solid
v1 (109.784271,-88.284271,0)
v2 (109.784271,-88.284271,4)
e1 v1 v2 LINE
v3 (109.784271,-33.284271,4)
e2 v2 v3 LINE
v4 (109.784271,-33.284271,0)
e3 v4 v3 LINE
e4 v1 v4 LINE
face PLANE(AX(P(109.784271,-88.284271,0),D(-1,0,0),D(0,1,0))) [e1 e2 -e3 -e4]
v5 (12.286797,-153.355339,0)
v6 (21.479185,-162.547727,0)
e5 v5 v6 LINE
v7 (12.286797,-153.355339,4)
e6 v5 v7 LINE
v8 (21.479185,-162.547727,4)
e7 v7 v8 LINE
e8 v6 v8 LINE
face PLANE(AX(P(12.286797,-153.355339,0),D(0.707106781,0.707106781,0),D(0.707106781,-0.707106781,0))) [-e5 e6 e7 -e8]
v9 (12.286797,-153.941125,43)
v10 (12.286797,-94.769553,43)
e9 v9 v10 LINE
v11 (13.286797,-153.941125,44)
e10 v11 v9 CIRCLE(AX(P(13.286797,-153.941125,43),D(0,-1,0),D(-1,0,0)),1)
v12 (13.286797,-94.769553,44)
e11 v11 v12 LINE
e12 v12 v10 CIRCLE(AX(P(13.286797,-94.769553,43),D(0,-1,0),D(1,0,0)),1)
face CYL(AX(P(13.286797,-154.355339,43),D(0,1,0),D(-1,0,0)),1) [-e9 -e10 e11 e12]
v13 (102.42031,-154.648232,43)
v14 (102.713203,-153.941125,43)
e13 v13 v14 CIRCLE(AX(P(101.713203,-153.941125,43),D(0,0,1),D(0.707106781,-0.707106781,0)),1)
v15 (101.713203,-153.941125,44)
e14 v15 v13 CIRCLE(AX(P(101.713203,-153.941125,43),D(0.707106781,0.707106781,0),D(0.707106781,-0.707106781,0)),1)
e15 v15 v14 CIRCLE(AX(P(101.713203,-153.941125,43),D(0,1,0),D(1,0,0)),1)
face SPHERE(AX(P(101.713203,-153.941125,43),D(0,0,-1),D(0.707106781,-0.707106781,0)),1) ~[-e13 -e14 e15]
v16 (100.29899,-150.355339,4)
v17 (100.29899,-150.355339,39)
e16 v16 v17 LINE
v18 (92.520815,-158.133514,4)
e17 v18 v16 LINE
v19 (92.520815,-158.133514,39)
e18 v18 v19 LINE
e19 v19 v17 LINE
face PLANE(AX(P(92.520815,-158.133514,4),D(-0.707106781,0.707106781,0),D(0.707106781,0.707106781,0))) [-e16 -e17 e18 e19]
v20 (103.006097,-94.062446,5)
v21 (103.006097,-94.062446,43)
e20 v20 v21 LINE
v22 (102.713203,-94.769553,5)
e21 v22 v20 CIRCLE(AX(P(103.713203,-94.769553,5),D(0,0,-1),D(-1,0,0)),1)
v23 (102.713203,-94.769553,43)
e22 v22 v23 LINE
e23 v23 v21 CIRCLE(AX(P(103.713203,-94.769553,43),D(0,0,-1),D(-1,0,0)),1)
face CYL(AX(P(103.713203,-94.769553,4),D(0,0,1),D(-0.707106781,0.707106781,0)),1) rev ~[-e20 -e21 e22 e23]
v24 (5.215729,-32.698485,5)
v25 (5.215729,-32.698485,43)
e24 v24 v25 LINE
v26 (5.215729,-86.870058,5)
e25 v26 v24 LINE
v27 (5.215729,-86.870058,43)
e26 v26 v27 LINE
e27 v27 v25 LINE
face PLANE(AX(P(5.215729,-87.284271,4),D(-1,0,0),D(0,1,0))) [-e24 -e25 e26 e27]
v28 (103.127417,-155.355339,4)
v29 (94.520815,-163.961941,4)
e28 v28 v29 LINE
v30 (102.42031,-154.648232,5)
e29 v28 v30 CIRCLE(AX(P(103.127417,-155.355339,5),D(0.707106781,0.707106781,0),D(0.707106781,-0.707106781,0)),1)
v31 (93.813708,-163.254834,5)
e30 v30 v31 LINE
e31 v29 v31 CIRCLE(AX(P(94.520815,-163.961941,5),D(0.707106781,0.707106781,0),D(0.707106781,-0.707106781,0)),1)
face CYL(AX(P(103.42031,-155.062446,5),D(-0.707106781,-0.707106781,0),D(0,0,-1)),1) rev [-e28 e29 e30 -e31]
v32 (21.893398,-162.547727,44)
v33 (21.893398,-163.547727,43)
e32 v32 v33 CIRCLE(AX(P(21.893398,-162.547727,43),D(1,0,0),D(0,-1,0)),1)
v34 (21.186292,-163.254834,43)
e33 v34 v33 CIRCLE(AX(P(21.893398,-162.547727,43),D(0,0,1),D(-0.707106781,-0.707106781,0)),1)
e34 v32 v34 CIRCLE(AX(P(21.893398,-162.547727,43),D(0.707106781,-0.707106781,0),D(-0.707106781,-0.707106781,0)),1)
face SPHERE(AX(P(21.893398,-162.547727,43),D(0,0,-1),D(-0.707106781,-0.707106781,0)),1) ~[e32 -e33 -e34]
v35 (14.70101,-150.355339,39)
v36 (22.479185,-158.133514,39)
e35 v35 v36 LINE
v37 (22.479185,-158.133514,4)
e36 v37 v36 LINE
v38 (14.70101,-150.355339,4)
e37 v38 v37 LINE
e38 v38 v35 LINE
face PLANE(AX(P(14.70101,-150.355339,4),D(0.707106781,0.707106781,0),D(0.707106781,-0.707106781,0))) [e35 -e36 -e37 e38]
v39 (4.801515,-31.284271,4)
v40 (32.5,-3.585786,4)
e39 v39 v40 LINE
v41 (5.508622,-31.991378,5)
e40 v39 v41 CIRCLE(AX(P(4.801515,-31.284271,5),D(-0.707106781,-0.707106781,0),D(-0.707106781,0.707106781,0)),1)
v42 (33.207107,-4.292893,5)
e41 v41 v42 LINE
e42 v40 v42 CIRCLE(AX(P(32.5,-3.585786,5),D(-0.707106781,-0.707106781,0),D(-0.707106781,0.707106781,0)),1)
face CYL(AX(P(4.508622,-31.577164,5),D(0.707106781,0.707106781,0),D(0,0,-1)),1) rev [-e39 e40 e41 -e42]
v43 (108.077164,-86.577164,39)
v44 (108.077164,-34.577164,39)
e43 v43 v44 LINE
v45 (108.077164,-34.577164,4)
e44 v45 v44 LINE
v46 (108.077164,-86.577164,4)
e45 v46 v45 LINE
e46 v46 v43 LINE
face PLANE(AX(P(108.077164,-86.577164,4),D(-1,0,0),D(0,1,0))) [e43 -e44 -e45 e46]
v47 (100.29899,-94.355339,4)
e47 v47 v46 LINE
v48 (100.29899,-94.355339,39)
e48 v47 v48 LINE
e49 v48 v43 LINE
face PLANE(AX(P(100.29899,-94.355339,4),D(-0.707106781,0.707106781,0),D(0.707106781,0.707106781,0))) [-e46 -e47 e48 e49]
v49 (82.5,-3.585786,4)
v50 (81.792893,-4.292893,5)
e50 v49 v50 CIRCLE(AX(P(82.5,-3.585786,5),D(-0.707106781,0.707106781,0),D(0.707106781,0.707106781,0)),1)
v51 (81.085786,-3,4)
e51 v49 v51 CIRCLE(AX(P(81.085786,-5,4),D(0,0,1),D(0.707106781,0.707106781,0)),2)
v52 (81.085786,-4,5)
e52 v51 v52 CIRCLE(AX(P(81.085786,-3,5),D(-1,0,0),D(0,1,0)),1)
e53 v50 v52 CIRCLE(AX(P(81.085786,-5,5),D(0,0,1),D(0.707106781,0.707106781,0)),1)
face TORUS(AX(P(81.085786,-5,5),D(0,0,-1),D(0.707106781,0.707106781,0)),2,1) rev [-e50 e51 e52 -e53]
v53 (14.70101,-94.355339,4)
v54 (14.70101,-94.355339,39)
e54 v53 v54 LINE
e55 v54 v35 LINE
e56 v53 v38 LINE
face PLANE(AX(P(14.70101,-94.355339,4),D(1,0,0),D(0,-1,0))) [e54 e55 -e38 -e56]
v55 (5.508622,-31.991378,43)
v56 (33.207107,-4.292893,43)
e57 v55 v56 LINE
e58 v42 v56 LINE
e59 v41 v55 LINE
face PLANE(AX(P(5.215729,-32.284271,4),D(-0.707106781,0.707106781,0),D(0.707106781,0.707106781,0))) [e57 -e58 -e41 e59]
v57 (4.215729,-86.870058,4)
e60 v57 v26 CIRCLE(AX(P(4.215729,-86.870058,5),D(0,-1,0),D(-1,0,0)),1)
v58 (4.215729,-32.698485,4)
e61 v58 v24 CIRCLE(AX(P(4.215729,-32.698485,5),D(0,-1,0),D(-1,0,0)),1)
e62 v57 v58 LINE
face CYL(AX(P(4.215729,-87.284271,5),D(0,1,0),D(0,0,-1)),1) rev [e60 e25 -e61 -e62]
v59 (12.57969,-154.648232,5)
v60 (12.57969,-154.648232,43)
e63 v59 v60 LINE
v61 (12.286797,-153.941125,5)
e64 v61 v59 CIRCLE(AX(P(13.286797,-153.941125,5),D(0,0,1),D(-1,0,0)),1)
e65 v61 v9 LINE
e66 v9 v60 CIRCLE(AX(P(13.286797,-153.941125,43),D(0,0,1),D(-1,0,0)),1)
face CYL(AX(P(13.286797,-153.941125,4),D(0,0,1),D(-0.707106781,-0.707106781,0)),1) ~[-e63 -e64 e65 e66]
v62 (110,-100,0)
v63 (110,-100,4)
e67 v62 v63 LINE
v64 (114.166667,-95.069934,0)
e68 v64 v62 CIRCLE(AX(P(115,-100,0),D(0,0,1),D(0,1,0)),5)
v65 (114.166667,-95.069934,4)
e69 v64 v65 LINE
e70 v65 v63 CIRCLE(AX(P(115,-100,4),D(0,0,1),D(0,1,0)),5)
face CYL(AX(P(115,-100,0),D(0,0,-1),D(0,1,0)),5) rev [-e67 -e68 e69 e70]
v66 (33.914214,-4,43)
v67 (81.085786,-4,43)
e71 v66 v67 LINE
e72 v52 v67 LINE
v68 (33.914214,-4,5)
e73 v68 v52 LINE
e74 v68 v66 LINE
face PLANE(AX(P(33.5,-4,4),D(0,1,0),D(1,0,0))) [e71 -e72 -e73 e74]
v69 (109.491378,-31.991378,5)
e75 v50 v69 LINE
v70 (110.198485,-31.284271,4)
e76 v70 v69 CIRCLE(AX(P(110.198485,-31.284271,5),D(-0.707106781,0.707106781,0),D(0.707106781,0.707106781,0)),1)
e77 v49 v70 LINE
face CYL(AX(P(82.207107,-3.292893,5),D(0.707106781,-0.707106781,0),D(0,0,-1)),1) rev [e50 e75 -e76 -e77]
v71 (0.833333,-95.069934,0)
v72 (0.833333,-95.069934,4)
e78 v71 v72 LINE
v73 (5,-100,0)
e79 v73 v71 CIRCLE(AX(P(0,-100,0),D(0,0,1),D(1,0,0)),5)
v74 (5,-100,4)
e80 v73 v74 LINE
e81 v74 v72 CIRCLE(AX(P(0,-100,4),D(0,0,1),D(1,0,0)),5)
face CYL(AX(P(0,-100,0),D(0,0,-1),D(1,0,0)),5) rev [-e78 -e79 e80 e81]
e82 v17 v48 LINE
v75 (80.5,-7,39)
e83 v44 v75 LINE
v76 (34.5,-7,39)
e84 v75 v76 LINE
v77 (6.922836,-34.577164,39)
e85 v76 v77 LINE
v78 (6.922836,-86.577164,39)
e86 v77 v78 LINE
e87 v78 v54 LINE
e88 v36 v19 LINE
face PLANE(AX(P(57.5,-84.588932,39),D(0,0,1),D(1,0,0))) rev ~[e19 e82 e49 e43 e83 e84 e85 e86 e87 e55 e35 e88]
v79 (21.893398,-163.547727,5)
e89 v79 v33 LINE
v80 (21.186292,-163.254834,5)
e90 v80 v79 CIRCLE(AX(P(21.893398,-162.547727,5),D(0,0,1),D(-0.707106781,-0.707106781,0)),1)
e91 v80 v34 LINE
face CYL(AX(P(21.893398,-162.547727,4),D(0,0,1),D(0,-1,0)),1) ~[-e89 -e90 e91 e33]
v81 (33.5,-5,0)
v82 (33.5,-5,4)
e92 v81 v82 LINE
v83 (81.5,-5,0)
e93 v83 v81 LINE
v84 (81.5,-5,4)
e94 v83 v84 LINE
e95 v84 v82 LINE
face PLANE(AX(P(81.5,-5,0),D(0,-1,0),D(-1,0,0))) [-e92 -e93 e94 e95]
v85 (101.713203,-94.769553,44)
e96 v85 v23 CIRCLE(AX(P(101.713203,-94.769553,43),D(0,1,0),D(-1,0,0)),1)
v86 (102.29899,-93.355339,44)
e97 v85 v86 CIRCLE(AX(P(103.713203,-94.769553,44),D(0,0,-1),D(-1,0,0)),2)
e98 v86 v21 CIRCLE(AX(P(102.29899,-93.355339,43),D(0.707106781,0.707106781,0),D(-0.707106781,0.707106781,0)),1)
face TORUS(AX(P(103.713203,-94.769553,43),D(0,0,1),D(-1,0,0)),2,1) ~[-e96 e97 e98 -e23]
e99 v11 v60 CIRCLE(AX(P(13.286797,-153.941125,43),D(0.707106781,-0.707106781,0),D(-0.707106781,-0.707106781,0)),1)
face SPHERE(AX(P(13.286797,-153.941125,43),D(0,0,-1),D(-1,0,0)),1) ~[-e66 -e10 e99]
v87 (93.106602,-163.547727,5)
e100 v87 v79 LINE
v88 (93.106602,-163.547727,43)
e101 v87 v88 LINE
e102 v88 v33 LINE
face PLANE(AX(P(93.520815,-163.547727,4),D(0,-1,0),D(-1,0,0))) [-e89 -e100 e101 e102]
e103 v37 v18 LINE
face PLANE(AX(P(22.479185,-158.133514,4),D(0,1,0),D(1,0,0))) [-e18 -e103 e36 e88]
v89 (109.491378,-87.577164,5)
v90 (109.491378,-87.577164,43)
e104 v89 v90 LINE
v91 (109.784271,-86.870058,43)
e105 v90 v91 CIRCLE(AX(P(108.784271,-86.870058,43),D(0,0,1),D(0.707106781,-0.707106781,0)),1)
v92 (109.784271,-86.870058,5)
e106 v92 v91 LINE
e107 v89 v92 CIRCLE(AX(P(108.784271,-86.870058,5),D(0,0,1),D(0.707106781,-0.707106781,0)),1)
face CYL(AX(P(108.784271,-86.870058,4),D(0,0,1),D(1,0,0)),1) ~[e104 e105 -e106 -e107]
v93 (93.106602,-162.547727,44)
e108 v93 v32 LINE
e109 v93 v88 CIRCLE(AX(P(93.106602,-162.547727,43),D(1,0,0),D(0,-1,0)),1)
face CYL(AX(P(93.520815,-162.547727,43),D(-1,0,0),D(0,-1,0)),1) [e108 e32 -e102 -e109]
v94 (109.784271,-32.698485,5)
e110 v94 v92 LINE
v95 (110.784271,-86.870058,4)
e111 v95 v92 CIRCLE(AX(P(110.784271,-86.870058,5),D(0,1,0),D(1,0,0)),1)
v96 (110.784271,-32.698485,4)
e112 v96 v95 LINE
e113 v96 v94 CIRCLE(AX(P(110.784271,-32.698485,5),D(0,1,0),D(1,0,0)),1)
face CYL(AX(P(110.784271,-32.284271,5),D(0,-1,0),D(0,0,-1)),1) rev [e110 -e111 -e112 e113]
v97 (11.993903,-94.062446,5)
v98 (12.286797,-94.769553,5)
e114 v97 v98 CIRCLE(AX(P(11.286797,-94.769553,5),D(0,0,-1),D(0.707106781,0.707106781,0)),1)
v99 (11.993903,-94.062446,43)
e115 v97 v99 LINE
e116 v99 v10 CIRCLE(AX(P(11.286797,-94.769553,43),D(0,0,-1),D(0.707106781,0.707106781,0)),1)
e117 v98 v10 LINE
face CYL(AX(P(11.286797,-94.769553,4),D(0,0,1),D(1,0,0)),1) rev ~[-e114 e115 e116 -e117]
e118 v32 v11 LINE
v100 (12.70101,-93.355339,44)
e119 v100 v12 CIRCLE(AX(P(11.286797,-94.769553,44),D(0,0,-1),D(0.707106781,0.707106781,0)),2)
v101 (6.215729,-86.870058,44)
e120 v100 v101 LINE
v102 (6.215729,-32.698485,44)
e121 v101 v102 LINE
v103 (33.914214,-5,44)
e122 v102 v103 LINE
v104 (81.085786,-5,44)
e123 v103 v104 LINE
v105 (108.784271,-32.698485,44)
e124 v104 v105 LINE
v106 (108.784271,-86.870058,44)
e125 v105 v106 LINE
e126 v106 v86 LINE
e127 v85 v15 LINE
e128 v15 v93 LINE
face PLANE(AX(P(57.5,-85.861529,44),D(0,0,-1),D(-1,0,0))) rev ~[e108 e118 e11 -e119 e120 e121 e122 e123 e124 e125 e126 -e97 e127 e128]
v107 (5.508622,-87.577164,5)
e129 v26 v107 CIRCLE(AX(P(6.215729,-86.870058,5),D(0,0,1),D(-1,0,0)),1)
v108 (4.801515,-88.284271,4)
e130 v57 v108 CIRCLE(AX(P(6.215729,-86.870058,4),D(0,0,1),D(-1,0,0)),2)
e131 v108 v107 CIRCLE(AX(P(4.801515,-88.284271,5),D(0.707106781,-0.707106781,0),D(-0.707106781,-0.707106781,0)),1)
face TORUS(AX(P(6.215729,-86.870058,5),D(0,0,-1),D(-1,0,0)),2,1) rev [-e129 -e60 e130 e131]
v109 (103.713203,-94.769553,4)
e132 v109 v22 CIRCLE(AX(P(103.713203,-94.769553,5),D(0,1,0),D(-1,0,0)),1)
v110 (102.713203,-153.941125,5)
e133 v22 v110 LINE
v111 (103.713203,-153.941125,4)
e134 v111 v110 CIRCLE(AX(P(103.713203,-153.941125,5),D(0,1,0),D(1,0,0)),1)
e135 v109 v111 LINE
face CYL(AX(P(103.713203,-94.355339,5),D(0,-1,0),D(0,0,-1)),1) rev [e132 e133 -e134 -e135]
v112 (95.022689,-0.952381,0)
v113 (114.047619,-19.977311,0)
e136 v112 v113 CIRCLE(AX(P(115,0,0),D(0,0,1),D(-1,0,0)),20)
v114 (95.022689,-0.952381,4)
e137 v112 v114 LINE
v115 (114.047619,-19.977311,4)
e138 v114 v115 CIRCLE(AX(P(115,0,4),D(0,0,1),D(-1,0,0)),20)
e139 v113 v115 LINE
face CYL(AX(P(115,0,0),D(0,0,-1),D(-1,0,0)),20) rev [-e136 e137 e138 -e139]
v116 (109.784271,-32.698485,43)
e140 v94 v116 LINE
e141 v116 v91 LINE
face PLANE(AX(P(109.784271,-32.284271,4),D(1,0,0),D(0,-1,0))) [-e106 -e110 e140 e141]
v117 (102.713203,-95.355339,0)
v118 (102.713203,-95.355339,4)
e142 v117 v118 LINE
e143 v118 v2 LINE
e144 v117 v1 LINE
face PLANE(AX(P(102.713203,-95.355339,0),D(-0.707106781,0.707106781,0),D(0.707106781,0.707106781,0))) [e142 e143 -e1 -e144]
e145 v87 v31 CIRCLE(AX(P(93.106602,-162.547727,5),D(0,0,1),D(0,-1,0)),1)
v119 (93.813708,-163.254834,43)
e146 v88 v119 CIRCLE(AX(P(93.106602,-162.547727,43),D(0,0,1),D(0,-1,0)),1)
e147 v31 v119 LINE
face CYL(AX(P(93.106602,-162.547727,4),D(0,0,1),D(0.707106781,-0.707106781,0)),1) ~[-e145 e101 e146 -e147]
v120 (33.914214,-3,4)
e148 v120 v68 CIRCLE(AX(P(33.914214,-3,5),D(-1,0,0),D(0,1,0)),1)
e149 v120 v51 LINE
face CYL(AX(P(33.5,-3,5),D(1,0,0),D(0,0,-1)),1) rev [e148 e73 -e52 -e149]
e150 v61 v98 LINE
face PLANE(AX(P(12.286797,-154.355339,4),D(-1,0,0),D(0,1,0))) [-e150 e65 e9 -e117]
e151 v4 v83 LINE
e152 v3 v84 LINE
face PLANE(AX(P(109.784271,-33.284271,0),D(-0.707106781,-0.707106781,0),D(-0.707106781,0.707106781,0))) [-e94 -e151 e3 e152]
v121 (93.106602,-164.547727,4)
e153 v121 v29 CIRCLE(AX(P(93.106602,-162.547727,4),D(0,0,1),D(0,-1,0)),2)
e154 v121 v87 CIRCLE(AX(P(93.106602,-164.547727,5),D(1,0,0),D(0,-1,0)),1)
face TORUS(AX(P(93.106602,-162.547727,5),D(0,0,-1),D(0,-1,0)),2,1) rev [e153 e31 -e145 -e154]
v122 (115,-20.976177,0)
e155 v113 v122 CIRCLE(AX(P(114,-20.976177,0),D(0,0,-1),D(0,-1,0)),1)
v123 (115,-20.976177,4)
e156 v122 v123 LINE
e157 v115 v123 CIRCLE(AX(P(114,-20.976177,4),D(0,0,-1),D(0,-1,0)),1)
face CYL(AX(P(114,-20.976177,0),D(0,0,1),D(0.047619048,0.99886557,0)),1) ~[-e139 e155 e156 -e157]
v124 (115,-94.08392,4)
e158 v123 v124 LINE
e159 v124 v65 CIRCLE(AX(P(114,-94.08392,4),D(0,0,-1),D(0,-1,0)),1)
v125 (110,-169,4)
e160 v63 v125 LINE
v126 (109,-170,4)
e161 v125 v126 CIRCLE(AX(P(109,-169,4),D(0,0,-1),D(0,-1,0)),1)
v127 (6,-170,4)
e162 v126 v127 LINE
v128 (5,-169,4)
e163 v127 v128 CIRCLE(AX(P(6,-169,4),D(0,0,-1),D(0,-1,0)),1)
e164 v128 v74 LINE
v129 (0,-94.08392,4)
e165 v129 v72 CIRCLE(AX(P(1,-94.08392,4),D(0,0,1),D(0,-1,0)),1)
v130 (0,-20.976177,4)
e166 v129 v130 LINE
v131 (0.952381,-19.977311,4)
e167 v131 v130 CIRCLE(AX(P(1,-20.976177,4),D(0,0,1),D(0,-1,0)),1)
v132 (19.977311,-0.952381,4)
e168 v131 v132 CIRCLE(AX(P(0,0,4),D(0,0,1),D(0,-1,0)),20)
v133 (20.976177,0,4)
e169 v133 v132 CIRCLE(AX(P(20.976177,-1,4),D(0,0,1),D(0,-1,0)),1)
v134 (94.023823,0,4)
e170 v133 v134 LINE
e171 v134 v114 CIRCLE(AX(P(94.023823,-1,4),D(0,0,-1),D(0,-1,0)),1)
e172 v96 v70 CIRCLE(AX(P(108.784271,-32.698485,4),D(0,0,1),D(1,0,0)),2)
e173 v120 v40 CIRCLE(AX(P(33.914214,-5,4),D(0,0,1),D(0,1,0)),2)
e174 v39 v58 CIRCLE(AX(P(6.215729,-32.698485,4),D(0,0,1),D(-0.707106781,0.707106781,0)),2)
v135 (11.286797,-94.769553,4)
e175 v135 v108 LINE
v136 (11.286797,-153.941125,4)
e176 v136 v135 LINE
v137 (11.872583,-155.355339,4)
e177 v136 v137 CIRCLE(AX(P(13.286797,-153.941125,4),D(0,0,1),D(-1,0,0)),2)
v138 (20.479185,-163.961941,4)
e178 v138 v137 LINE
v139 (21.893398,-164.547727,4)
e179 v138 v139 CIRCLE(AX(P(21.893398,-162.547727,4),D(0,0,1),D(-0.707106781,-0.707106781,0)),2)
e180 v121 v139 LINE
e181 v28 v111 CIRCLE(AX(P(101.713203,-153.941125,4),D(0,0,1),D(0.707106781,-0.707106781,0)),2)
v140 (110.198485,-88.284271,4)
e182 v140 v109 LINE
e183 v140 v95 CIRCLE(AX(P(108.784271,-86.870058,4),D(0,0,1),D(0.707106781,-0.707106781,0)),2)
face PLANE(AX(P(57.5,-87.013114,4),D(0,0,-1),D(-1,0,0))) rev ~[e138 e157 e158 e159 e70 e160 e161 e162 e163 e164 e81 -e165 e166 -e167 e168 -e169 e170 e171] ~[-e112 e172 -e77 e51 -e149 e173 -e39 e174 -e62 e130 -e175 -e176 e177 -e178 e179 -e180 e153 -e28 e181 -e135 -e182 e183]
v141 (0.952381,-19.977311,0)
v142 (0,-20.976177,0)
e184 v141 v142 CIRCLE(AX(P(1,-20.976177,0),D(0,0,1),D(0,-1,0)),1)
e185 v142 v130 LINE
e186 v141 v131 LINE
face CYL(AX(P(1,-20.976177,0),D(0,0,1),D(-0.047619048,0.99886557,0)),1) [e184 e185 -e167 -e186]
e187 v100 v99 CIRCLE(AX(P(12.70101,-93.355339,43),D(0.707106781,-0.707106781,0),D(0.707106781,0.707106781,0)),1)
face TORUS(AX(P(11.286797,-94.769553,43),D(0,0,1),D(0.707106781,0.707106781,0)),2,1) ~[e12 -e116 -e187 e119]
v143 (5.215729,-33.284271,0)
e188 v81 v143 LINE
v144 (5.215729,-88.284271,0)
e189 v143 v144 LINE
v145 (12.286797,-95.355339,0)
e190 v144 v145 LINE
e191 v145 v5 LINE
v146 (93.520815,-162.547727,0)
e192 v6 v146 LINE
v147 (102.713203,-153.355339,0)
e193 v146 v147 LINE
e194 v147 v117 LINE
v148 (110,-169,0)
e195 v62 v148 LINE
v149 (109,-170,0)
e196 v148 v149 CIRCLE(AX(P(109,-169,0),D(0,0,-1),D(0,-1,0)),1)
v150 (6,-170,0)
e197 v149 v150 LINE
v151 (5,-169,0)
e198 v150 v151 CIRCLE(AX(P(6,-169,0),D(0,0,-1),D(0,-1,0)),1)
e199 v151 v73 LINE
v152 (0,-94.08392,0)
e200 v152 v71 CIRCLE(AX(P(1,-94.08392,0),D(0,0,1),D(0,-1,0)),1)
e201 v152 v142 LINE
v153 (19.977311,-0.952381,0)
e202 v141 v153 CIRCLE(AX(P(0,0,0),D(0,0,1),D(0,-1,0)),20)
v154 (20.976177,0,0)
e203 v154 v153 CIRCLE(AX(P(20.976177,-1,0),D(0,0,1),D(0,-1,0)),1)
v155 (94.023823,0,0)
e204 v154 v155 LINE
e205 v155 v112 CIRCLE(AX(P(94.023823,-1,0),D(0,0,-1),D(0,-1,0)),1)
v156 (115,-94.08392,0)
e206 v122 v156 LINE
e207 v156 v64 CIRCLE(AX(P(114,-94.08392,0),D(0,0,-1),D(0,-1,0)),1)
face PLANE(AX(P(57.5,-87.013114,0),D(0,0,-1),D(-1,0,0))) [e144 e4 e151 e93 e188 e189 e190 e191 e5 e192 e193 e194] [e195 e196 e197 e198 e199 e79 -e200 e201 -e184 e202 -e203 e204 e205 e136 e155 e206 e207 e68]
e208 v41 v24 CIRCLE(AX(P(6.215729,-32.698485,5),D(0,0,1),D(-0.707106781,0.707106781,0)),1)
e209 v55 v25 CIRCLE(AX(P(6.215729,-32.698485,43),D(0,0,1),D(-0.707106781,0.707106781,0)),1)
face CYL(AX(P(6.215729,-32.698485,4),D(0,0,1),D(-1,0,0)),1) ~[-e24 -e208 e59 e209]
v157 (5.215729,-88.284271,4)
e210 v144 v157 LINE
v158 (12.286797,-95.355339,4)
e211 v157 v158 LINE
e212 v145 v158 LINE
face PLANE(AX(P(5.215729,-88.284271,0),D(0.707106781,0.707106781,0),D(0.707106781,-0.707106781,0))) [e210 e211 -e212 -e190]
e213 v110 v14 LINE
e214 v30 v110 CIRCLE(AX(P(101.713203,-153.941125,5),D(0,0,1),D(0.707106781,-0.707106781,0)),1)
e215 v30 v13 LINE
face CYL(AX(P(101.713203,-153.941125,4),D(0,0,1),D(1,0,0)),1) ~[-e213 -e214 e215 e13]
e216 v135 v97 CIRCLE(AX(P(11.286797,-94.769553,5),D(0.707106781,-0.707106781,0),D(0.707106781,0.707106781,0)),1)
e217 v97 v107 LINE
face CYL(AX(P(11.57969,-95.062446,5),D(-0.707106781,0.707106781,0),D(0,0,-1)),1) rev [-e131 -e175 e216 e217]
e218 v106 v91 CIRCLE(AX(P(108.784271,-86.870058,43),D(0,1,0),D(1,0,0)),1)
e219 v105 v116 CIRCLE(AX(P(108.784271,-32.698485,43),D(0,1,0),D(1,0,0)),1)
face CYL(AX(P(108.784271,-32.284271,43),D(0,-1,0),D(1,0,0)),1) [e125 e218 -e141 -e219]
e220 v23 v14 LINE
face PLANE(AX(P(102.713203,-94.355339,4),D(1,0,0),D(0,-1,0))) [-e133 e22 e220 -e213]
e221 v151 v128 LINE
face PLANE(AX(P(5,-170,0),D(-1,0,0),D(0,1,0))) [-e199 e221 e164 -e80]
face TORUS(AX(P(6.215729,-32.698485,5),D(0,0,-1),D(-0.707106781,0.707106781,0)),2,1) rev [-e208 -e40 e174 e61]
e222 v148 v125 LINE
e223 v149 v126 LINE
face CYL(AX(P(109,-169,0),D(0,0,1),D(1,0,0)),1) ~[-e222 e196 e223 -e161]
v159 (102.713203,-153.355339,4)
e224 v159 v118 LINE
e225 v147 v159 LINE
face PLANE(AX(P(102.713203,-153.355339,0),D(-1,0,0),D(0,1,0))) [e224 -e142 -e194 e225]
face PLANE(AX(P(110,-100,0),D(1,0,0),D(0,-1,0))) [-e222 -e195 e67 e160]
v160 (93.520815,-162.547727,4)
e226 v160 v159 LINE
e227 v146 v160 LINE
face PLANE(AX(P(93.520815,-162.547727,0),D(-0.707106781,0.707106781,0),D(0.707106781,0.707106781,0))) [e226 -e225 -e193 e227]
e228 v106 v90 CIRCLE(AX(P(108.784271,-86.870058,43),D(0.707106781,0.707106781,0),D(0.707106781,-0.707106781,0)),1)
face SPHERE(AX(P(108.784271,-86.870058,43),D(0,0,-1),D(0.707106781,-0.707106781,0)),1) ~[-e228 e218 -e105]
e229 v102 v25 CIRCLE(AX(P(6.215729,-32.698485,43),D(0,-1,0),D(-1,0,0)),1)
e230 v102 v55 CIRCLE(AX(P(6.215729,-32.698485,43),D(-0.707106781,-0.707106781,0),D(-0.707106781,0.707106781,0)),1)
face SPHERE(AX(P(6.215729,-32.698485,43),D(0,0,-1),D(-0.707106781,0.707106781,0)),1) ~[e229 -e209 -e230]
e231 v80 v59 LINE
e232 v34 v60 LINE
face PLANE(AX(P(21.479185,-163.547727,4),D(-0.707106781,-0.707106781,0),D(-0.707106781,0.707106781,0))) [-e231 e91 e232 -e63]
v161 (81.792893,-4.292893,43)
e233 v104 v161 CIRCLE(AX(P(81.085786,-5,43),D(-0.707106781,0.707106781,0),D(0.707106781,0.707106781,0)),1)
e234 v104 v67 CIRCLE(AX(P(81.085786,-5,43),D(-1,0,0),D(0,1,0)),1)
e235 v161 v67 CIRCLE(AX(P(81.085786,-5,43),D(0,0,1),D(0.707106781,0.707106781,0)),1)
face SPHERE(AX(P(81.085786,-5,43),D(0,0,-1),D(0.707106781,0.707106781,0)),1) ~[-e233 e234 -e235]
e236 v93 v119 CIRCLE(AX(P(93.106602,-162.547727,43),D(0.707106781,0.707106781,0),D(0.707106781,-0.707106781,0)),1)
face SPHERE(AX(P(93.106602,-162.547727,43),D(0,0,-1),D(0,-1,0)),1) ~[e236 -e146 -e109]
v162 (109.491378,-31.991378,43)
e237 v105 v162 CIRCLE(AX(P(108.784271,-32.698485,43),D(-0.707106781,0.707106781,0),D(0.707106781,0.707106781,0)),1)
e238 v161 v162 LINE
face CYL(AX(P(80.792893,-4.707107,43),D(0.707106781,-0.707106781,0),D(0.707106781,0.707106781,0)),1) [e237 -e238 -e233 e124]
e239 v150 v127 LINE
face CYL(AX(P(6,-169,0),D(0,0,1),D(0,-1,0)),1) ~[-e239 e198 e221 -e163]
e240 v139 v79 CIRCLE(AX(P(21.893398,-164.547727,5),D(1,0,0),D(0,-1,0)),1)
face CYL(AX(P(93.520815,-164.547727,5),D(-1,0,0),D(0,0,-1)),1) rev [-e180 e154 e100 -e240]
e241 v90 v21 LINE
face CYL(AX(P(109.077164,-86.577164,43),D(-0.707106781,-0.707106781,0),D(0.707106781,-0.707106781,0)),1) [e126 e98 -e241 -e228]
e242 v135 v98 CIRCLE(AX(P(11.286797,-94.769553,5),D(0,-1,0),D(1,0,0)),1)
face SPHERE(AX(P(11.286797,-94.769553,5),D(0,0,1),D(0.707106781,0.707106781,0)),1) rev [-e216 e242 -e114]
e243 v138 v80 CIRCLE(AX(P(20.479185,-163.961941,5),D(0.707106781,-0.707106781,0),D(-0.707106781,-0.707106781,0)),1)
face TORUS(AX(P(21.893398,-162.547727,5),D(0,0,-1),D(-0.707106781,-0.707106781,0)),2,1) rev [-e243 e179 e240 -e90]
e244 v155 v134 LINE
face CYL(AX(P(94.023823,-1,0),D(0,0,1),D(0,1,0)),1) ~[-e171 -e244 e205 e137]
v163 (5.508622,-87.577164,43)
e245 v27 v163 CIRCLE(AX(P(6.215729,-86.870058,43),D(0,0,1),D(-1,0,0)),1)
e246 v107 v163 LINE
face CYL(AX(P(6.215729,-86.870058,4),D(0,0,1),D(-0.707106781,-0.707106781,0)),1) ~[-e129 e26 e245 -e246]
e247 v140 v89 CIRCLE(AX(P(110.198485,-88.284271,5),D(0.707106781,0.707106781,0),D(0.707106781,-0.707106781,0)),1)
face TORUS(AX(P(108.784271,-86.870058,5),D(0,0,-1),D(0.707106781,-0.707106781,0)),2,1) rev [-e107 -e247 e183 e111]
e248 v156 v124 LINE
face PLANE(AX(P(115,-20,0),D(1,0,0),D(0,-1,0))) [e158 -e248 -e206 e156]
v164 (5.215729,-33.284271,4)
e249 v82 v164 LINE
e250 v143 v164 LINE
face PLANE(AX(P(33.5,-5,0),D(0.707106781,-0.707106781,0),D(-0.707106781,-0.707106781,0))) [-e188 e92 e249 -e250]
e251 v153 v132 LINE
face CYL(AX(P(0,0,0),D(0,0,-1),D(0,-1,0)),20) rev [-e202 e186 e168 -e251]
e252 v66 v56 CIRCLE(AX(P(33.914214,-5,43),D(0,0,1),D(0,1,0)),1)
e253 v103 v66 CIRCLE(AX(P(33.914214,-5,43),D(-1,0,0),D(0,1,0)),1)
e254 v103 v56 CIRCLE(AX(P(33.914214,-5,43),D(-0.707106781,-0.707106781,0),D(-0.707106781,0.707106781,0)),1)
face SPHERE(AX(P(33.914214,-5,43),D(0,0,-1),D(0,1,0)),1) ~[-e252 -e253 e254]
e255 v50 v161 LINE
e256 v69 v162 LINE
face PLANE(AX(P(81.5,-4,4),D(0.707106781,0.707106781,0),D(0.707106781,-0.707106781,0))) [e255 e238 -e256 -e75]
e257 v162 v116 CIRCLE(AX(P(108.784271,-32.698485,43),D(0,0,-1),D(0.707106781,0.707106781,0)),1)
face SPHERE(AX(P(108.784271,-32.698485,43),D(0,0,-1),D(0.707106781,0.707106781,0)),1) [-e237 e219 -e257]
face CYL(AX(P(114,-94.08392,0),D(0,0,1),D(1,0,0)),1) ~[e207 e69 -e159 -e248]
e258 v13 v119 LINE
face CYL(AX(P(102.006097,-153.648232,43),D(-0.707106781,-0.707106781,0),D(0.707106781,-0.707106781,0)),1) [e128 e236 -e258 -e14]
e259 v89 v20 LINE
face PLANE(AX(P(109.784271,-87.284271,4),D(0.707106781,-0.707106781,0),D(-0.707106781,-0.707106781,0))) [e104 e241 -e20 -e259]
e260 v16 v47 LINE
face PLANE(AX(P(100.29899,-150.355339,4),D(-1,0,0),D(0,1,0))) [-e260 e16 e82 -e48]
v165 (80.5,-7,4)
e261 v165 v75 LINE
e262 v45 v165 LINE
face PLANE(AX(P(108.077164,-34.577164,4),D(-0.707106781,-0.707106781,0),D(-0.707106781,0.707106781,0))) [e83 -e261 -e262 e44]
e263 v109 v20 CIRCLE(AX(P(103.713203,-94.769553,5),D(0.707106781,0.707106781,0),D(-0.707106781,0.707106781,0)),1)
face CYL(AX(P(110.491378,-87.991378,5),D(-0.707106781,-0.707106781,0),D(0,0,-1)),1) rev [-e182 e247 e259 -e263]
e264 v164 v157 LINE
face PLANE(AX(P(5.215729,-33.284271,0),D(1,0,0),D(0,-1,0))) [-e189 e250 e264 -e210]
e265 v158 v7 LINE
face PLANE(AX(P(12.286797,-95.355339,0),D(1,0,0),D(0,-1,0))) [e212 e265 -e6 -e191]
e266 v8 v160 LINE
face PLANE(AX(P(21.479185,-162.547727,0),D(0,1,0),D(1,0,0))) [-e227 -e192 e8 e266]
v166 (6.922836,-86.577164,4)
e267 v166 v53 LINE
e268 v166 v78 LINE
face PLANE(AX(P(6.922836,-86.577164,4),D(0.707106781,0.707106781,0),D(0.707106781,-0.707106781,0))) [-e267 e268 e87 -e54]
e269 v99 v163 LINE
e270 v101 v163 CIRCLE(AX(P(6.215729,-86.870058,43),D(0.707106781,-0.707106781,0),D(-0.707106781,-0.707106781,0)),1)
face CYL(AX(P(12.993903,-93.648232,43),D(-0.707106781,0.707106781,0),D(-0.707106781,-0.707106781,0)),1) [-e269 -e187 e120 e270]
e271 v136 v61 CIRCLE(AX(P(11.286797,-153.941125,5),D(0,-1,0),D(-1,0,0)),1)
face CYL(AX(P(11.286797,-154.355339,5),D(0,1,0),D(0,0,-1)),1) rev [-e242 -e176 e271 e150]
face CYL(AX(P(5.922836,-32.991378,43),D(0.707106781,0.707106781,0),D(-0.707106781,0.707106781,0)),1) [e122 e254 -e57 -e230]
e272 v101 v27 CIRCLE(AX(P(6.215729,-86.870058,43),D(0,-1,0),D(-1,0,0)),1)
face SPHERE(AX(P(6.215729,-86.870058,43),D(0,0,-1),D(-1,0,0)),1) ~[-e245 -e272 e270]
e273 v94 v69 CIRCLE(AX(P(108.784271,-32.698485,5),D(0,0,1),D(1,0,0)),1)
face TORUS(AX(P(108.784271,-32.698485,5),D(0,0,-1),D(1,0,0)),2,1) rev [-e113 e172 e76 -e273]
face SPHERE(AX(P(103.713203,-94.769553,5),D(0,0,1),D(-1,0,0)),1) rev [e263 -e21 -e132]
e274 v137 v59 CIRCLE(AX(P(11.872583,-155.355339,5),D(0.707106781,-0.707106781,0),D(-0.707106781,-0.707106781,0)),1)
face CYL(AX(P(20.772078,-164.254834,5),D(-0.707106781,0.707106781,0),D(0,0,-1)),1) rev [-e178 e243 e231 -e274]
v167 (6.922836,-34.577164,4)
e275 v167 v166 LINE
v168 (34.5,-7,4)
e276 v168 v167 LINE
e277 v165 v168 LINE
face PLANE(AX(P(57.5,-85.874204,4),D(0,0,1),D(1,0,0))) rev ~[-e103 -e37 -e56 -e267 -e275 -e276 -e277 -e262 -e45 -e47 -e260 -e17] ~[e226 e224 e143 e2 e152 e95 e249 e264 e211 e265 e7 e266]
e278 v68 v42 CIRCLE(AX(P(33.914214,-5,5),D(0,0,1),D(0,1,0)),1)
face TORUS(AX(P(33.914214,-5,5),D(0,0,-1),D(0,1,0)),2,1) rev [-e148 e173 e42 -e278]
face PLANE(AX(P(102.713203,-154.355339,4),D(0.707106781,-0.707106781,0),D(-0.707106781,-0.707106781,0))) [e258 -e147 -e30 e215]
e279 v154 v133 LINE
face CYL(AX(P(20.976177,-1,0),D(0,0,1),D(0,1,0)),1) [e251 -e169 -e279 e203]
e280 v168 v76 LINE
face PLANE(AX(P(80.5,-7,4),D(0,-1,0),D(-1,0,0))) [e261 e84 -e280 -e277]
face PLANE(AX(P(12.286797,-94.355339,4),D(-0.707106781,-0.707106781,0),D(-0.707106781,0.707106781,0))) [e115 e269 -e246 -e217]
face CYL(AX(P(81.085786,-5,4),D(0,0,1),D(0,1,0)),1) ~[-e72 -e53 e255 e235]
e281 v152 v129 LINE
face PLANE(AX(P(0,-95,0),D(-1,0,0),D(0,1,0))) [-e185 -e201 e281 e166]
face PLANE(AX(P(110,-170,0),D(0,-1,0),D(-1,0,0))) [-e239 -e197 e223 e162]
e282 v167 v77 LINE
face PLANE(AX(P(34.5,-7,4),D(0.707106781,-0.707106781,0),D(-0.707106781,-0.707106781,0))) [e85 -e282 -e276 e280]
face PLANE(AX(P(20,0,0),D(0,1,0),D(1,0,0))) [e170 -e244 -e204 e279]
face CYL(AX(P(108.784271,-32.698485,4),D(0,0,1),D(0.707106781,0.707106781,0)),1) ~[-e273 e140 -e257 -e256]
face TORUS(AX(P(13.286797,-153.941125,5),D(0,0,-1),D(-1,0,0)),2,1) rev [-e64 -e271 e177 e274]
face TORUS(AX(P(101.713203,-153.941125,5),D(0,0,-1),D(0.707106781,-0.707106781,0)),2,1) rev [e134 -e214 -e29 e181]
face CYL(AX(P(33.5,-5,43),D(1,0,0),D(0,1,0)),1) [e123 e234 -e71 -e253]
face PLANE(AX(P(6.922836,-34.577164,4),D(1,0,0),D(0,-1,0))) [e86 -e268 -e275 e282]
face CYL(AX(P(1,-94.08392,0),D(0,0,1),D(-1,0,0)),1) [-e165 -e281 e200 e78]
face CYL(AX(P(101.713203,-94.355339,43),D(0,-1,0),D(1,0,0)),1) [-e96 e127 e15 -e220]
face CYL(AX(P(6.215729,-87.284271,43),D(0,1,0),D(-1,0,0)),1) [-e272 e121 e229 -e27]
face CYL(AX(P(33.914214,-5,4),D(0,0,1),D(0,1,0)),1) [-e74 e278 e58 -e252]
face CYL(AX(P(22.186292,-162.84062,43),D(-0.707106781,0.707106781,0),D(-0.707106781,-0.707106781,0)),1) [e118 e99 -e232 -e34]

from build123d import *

# Parameters (mm, degrees)
Y_KSEKLIK_EKSTR_ZYON5_DEPTH = 4
Y_KSEKLIK_EKSTR_ZYON6_DEPTH = 40
RADYUS2_R                   = 1
KES_EKSTR_ZYON1_DEPTH       = 4
KES_EKSTR_ZYON2_DEPTH       = 35


with BuildPart() as part:
    # Çizim1 → Yükseklik-Ekstrüzyon5 (new body)
    with BuildSketch(Plane.XY):
        with BuildLine():
            Line((20, 0), (95, 0))
            ThreePointArc((95, 0), (100.857864376, -14.142135624), (115, -20))
            Line((115, -20), (115, -95))
            ThreePointArc((115, -95), (111.464466094, -96.464466094), (110, -100))
            Line((110, -100), (110, -170))
            Line((110, -170), (5, -170))
            Line((5, -170), (5, -100))
            ThreePointArc((5, -100), (3.535533906, -96.464466094), (0, -95))
            Line((0, -95), (0, -20))
            ThreePointArc((0, -20), (14.142135624, -14.142135624), (20, 0))
        make_face()
    extrude(amount=Y_KSEKLIK_EKSTR_ZYON5_DEPTH)

    # Çizim6 → Yükseklik-Ekstrüzyon6 (add)
    with BuildSketch(Plane.XY.offset(4)):
        Polygon((33.5, -4), (81.5, -4), (109.784271247, -32.284271247), (109.784271247, -87.284271247), (102.713203436, -94.355339059), (102.713203436, -154.355339059), (93.52081528, -163.547727215), (21.47918472, -163.547727215), (12.286796564, -154.355339059), (12.286796564, -94.355339059), (5.215728753, -87.284271247), (5.215728753, -32.284271247), align=None)
    extrude(amount=Y_KSEKLIK_EKSTR_ZYON6_DEPTH)

    # Radyus2
    radyus2_edges = [part.edges().sort_by_distance(p)[0] for p in [
        (20, 0, 2),
        (95, 0, 2),
        (115, -20, 2),
        (115, -95, 2),
        (110, -170, 2),
        (5, -170, 2),
        (0, -95, 2),
        (0, -20, 2),
        (95.642135624, -18.142135624, 4),
        (109.784271247, -32.284271247, 24),
        (57.5, -4, 4),
        (81.5, -4, 24),
        (19.357864376, -18.142135624, 4),
        (33.5, -4, 24),
        (5.215728753, -59.784271247, 4),
        (5.215728753, -32.284271247, 24),
        (8.751262658, -90.819805153, 4),
        (5.215728753, -87.284271247, 24),
        (12.286796564, -124.355339059, 4),
        (12.286796564, -94.355339059, 24),
        (16.882990642, -158.951533137, 4),
        (12.286796564, -154.355339059, 24),
        (57.5, -163.547727215, 4),
        (21.47918472, -163.547727215, 24),
        (98.117009358, -158.951533137, 4),
        (93.52081528, -163.547727215, 24),
        (102.713203436, -124.355339059, 4),
        (102.713203436, -154.355339059, 24),
        (106.248737342, -90.819805153, 4),
        (102.713203436, -94.355339059, 24),
        (109.784271247, -59.784271247, 4),
        (109.784271247, -87.284271247, 24),
        (95.642135624, -18.142135624, 44),
        (57.5, -4, 44),
        (19.357864376, -18.142135624, 44),
        (5.215728753, -59.784271247, 44),
        (8.751262658, -90.819805153, 44),
        (12.286796564, -124.355339059, 44),
        (16.882990642, -158.951533137, 44),
        (57.5, -163.547727215, 44),
        (98.117009358, -158.951533137, 44),
        (102.713203436, -124.355339059, 44),
        (106.248737342, -90.819805153, 44),
        (109.784271247, -59.784271247, 44),
    ]]
    fillet(radyus2_edges, radius=RADYUS2_R)

    # Çizim8 → Kes-Ekstrüzyon1 (cut)
    with BuildSketch(Plane(origin=(0, 0, 0), x_dir=(-1, 0, 0), z_dir=(0, 0, -1))):
        Polygon((-81.5, -5), (-33.5, -5), (-5.215728753, -33.284271247), (-5.215728753, -88.284271247), (-12.286796564, -95.355339059), (-12.286796564, -153.355339059), (-21.47918472, -162.547727215), (-93.52081528, -162.547727215), (-102.713203436, -153.355339059), (-102.713203436, -95.355339059), (-109.784271247, -88.284271247), (-109.784271247, -33.284271247), align=None)
    extrude(amount=-KES_EKSTR_ZYON1_DEPTH, mode=Mode.SUBTRACT)

    # Çizim9 → Kes-Ekstrüzyon2 (cut)
    with BuildSketch(Plane(origin=(0, 0, 4), x_dir=(-1, 0, 0), z_dir=(0, 0, -1))):
        Polygon((-80.5, -7), (-34.5, -7), (-6.922835534, -34.577164466), (-6.922835534, -86.577164466), (-14.701010127, -94.355339059), (-14.701010127, -150.355339059), (-22.47918472, -158.133513652), (-92.52081528, -158.133513652), (-100.298989873, -150.355339059), (-100.298989873, -94.355339059), (-108.077164466, -86.577164466), (-108.077164466, -34.577164466), align=None)
    extrude(amount=-KES_EKSTR_ZYON2_DEPTH, mode=Mode.SUBTRACT)


solid = part.part
